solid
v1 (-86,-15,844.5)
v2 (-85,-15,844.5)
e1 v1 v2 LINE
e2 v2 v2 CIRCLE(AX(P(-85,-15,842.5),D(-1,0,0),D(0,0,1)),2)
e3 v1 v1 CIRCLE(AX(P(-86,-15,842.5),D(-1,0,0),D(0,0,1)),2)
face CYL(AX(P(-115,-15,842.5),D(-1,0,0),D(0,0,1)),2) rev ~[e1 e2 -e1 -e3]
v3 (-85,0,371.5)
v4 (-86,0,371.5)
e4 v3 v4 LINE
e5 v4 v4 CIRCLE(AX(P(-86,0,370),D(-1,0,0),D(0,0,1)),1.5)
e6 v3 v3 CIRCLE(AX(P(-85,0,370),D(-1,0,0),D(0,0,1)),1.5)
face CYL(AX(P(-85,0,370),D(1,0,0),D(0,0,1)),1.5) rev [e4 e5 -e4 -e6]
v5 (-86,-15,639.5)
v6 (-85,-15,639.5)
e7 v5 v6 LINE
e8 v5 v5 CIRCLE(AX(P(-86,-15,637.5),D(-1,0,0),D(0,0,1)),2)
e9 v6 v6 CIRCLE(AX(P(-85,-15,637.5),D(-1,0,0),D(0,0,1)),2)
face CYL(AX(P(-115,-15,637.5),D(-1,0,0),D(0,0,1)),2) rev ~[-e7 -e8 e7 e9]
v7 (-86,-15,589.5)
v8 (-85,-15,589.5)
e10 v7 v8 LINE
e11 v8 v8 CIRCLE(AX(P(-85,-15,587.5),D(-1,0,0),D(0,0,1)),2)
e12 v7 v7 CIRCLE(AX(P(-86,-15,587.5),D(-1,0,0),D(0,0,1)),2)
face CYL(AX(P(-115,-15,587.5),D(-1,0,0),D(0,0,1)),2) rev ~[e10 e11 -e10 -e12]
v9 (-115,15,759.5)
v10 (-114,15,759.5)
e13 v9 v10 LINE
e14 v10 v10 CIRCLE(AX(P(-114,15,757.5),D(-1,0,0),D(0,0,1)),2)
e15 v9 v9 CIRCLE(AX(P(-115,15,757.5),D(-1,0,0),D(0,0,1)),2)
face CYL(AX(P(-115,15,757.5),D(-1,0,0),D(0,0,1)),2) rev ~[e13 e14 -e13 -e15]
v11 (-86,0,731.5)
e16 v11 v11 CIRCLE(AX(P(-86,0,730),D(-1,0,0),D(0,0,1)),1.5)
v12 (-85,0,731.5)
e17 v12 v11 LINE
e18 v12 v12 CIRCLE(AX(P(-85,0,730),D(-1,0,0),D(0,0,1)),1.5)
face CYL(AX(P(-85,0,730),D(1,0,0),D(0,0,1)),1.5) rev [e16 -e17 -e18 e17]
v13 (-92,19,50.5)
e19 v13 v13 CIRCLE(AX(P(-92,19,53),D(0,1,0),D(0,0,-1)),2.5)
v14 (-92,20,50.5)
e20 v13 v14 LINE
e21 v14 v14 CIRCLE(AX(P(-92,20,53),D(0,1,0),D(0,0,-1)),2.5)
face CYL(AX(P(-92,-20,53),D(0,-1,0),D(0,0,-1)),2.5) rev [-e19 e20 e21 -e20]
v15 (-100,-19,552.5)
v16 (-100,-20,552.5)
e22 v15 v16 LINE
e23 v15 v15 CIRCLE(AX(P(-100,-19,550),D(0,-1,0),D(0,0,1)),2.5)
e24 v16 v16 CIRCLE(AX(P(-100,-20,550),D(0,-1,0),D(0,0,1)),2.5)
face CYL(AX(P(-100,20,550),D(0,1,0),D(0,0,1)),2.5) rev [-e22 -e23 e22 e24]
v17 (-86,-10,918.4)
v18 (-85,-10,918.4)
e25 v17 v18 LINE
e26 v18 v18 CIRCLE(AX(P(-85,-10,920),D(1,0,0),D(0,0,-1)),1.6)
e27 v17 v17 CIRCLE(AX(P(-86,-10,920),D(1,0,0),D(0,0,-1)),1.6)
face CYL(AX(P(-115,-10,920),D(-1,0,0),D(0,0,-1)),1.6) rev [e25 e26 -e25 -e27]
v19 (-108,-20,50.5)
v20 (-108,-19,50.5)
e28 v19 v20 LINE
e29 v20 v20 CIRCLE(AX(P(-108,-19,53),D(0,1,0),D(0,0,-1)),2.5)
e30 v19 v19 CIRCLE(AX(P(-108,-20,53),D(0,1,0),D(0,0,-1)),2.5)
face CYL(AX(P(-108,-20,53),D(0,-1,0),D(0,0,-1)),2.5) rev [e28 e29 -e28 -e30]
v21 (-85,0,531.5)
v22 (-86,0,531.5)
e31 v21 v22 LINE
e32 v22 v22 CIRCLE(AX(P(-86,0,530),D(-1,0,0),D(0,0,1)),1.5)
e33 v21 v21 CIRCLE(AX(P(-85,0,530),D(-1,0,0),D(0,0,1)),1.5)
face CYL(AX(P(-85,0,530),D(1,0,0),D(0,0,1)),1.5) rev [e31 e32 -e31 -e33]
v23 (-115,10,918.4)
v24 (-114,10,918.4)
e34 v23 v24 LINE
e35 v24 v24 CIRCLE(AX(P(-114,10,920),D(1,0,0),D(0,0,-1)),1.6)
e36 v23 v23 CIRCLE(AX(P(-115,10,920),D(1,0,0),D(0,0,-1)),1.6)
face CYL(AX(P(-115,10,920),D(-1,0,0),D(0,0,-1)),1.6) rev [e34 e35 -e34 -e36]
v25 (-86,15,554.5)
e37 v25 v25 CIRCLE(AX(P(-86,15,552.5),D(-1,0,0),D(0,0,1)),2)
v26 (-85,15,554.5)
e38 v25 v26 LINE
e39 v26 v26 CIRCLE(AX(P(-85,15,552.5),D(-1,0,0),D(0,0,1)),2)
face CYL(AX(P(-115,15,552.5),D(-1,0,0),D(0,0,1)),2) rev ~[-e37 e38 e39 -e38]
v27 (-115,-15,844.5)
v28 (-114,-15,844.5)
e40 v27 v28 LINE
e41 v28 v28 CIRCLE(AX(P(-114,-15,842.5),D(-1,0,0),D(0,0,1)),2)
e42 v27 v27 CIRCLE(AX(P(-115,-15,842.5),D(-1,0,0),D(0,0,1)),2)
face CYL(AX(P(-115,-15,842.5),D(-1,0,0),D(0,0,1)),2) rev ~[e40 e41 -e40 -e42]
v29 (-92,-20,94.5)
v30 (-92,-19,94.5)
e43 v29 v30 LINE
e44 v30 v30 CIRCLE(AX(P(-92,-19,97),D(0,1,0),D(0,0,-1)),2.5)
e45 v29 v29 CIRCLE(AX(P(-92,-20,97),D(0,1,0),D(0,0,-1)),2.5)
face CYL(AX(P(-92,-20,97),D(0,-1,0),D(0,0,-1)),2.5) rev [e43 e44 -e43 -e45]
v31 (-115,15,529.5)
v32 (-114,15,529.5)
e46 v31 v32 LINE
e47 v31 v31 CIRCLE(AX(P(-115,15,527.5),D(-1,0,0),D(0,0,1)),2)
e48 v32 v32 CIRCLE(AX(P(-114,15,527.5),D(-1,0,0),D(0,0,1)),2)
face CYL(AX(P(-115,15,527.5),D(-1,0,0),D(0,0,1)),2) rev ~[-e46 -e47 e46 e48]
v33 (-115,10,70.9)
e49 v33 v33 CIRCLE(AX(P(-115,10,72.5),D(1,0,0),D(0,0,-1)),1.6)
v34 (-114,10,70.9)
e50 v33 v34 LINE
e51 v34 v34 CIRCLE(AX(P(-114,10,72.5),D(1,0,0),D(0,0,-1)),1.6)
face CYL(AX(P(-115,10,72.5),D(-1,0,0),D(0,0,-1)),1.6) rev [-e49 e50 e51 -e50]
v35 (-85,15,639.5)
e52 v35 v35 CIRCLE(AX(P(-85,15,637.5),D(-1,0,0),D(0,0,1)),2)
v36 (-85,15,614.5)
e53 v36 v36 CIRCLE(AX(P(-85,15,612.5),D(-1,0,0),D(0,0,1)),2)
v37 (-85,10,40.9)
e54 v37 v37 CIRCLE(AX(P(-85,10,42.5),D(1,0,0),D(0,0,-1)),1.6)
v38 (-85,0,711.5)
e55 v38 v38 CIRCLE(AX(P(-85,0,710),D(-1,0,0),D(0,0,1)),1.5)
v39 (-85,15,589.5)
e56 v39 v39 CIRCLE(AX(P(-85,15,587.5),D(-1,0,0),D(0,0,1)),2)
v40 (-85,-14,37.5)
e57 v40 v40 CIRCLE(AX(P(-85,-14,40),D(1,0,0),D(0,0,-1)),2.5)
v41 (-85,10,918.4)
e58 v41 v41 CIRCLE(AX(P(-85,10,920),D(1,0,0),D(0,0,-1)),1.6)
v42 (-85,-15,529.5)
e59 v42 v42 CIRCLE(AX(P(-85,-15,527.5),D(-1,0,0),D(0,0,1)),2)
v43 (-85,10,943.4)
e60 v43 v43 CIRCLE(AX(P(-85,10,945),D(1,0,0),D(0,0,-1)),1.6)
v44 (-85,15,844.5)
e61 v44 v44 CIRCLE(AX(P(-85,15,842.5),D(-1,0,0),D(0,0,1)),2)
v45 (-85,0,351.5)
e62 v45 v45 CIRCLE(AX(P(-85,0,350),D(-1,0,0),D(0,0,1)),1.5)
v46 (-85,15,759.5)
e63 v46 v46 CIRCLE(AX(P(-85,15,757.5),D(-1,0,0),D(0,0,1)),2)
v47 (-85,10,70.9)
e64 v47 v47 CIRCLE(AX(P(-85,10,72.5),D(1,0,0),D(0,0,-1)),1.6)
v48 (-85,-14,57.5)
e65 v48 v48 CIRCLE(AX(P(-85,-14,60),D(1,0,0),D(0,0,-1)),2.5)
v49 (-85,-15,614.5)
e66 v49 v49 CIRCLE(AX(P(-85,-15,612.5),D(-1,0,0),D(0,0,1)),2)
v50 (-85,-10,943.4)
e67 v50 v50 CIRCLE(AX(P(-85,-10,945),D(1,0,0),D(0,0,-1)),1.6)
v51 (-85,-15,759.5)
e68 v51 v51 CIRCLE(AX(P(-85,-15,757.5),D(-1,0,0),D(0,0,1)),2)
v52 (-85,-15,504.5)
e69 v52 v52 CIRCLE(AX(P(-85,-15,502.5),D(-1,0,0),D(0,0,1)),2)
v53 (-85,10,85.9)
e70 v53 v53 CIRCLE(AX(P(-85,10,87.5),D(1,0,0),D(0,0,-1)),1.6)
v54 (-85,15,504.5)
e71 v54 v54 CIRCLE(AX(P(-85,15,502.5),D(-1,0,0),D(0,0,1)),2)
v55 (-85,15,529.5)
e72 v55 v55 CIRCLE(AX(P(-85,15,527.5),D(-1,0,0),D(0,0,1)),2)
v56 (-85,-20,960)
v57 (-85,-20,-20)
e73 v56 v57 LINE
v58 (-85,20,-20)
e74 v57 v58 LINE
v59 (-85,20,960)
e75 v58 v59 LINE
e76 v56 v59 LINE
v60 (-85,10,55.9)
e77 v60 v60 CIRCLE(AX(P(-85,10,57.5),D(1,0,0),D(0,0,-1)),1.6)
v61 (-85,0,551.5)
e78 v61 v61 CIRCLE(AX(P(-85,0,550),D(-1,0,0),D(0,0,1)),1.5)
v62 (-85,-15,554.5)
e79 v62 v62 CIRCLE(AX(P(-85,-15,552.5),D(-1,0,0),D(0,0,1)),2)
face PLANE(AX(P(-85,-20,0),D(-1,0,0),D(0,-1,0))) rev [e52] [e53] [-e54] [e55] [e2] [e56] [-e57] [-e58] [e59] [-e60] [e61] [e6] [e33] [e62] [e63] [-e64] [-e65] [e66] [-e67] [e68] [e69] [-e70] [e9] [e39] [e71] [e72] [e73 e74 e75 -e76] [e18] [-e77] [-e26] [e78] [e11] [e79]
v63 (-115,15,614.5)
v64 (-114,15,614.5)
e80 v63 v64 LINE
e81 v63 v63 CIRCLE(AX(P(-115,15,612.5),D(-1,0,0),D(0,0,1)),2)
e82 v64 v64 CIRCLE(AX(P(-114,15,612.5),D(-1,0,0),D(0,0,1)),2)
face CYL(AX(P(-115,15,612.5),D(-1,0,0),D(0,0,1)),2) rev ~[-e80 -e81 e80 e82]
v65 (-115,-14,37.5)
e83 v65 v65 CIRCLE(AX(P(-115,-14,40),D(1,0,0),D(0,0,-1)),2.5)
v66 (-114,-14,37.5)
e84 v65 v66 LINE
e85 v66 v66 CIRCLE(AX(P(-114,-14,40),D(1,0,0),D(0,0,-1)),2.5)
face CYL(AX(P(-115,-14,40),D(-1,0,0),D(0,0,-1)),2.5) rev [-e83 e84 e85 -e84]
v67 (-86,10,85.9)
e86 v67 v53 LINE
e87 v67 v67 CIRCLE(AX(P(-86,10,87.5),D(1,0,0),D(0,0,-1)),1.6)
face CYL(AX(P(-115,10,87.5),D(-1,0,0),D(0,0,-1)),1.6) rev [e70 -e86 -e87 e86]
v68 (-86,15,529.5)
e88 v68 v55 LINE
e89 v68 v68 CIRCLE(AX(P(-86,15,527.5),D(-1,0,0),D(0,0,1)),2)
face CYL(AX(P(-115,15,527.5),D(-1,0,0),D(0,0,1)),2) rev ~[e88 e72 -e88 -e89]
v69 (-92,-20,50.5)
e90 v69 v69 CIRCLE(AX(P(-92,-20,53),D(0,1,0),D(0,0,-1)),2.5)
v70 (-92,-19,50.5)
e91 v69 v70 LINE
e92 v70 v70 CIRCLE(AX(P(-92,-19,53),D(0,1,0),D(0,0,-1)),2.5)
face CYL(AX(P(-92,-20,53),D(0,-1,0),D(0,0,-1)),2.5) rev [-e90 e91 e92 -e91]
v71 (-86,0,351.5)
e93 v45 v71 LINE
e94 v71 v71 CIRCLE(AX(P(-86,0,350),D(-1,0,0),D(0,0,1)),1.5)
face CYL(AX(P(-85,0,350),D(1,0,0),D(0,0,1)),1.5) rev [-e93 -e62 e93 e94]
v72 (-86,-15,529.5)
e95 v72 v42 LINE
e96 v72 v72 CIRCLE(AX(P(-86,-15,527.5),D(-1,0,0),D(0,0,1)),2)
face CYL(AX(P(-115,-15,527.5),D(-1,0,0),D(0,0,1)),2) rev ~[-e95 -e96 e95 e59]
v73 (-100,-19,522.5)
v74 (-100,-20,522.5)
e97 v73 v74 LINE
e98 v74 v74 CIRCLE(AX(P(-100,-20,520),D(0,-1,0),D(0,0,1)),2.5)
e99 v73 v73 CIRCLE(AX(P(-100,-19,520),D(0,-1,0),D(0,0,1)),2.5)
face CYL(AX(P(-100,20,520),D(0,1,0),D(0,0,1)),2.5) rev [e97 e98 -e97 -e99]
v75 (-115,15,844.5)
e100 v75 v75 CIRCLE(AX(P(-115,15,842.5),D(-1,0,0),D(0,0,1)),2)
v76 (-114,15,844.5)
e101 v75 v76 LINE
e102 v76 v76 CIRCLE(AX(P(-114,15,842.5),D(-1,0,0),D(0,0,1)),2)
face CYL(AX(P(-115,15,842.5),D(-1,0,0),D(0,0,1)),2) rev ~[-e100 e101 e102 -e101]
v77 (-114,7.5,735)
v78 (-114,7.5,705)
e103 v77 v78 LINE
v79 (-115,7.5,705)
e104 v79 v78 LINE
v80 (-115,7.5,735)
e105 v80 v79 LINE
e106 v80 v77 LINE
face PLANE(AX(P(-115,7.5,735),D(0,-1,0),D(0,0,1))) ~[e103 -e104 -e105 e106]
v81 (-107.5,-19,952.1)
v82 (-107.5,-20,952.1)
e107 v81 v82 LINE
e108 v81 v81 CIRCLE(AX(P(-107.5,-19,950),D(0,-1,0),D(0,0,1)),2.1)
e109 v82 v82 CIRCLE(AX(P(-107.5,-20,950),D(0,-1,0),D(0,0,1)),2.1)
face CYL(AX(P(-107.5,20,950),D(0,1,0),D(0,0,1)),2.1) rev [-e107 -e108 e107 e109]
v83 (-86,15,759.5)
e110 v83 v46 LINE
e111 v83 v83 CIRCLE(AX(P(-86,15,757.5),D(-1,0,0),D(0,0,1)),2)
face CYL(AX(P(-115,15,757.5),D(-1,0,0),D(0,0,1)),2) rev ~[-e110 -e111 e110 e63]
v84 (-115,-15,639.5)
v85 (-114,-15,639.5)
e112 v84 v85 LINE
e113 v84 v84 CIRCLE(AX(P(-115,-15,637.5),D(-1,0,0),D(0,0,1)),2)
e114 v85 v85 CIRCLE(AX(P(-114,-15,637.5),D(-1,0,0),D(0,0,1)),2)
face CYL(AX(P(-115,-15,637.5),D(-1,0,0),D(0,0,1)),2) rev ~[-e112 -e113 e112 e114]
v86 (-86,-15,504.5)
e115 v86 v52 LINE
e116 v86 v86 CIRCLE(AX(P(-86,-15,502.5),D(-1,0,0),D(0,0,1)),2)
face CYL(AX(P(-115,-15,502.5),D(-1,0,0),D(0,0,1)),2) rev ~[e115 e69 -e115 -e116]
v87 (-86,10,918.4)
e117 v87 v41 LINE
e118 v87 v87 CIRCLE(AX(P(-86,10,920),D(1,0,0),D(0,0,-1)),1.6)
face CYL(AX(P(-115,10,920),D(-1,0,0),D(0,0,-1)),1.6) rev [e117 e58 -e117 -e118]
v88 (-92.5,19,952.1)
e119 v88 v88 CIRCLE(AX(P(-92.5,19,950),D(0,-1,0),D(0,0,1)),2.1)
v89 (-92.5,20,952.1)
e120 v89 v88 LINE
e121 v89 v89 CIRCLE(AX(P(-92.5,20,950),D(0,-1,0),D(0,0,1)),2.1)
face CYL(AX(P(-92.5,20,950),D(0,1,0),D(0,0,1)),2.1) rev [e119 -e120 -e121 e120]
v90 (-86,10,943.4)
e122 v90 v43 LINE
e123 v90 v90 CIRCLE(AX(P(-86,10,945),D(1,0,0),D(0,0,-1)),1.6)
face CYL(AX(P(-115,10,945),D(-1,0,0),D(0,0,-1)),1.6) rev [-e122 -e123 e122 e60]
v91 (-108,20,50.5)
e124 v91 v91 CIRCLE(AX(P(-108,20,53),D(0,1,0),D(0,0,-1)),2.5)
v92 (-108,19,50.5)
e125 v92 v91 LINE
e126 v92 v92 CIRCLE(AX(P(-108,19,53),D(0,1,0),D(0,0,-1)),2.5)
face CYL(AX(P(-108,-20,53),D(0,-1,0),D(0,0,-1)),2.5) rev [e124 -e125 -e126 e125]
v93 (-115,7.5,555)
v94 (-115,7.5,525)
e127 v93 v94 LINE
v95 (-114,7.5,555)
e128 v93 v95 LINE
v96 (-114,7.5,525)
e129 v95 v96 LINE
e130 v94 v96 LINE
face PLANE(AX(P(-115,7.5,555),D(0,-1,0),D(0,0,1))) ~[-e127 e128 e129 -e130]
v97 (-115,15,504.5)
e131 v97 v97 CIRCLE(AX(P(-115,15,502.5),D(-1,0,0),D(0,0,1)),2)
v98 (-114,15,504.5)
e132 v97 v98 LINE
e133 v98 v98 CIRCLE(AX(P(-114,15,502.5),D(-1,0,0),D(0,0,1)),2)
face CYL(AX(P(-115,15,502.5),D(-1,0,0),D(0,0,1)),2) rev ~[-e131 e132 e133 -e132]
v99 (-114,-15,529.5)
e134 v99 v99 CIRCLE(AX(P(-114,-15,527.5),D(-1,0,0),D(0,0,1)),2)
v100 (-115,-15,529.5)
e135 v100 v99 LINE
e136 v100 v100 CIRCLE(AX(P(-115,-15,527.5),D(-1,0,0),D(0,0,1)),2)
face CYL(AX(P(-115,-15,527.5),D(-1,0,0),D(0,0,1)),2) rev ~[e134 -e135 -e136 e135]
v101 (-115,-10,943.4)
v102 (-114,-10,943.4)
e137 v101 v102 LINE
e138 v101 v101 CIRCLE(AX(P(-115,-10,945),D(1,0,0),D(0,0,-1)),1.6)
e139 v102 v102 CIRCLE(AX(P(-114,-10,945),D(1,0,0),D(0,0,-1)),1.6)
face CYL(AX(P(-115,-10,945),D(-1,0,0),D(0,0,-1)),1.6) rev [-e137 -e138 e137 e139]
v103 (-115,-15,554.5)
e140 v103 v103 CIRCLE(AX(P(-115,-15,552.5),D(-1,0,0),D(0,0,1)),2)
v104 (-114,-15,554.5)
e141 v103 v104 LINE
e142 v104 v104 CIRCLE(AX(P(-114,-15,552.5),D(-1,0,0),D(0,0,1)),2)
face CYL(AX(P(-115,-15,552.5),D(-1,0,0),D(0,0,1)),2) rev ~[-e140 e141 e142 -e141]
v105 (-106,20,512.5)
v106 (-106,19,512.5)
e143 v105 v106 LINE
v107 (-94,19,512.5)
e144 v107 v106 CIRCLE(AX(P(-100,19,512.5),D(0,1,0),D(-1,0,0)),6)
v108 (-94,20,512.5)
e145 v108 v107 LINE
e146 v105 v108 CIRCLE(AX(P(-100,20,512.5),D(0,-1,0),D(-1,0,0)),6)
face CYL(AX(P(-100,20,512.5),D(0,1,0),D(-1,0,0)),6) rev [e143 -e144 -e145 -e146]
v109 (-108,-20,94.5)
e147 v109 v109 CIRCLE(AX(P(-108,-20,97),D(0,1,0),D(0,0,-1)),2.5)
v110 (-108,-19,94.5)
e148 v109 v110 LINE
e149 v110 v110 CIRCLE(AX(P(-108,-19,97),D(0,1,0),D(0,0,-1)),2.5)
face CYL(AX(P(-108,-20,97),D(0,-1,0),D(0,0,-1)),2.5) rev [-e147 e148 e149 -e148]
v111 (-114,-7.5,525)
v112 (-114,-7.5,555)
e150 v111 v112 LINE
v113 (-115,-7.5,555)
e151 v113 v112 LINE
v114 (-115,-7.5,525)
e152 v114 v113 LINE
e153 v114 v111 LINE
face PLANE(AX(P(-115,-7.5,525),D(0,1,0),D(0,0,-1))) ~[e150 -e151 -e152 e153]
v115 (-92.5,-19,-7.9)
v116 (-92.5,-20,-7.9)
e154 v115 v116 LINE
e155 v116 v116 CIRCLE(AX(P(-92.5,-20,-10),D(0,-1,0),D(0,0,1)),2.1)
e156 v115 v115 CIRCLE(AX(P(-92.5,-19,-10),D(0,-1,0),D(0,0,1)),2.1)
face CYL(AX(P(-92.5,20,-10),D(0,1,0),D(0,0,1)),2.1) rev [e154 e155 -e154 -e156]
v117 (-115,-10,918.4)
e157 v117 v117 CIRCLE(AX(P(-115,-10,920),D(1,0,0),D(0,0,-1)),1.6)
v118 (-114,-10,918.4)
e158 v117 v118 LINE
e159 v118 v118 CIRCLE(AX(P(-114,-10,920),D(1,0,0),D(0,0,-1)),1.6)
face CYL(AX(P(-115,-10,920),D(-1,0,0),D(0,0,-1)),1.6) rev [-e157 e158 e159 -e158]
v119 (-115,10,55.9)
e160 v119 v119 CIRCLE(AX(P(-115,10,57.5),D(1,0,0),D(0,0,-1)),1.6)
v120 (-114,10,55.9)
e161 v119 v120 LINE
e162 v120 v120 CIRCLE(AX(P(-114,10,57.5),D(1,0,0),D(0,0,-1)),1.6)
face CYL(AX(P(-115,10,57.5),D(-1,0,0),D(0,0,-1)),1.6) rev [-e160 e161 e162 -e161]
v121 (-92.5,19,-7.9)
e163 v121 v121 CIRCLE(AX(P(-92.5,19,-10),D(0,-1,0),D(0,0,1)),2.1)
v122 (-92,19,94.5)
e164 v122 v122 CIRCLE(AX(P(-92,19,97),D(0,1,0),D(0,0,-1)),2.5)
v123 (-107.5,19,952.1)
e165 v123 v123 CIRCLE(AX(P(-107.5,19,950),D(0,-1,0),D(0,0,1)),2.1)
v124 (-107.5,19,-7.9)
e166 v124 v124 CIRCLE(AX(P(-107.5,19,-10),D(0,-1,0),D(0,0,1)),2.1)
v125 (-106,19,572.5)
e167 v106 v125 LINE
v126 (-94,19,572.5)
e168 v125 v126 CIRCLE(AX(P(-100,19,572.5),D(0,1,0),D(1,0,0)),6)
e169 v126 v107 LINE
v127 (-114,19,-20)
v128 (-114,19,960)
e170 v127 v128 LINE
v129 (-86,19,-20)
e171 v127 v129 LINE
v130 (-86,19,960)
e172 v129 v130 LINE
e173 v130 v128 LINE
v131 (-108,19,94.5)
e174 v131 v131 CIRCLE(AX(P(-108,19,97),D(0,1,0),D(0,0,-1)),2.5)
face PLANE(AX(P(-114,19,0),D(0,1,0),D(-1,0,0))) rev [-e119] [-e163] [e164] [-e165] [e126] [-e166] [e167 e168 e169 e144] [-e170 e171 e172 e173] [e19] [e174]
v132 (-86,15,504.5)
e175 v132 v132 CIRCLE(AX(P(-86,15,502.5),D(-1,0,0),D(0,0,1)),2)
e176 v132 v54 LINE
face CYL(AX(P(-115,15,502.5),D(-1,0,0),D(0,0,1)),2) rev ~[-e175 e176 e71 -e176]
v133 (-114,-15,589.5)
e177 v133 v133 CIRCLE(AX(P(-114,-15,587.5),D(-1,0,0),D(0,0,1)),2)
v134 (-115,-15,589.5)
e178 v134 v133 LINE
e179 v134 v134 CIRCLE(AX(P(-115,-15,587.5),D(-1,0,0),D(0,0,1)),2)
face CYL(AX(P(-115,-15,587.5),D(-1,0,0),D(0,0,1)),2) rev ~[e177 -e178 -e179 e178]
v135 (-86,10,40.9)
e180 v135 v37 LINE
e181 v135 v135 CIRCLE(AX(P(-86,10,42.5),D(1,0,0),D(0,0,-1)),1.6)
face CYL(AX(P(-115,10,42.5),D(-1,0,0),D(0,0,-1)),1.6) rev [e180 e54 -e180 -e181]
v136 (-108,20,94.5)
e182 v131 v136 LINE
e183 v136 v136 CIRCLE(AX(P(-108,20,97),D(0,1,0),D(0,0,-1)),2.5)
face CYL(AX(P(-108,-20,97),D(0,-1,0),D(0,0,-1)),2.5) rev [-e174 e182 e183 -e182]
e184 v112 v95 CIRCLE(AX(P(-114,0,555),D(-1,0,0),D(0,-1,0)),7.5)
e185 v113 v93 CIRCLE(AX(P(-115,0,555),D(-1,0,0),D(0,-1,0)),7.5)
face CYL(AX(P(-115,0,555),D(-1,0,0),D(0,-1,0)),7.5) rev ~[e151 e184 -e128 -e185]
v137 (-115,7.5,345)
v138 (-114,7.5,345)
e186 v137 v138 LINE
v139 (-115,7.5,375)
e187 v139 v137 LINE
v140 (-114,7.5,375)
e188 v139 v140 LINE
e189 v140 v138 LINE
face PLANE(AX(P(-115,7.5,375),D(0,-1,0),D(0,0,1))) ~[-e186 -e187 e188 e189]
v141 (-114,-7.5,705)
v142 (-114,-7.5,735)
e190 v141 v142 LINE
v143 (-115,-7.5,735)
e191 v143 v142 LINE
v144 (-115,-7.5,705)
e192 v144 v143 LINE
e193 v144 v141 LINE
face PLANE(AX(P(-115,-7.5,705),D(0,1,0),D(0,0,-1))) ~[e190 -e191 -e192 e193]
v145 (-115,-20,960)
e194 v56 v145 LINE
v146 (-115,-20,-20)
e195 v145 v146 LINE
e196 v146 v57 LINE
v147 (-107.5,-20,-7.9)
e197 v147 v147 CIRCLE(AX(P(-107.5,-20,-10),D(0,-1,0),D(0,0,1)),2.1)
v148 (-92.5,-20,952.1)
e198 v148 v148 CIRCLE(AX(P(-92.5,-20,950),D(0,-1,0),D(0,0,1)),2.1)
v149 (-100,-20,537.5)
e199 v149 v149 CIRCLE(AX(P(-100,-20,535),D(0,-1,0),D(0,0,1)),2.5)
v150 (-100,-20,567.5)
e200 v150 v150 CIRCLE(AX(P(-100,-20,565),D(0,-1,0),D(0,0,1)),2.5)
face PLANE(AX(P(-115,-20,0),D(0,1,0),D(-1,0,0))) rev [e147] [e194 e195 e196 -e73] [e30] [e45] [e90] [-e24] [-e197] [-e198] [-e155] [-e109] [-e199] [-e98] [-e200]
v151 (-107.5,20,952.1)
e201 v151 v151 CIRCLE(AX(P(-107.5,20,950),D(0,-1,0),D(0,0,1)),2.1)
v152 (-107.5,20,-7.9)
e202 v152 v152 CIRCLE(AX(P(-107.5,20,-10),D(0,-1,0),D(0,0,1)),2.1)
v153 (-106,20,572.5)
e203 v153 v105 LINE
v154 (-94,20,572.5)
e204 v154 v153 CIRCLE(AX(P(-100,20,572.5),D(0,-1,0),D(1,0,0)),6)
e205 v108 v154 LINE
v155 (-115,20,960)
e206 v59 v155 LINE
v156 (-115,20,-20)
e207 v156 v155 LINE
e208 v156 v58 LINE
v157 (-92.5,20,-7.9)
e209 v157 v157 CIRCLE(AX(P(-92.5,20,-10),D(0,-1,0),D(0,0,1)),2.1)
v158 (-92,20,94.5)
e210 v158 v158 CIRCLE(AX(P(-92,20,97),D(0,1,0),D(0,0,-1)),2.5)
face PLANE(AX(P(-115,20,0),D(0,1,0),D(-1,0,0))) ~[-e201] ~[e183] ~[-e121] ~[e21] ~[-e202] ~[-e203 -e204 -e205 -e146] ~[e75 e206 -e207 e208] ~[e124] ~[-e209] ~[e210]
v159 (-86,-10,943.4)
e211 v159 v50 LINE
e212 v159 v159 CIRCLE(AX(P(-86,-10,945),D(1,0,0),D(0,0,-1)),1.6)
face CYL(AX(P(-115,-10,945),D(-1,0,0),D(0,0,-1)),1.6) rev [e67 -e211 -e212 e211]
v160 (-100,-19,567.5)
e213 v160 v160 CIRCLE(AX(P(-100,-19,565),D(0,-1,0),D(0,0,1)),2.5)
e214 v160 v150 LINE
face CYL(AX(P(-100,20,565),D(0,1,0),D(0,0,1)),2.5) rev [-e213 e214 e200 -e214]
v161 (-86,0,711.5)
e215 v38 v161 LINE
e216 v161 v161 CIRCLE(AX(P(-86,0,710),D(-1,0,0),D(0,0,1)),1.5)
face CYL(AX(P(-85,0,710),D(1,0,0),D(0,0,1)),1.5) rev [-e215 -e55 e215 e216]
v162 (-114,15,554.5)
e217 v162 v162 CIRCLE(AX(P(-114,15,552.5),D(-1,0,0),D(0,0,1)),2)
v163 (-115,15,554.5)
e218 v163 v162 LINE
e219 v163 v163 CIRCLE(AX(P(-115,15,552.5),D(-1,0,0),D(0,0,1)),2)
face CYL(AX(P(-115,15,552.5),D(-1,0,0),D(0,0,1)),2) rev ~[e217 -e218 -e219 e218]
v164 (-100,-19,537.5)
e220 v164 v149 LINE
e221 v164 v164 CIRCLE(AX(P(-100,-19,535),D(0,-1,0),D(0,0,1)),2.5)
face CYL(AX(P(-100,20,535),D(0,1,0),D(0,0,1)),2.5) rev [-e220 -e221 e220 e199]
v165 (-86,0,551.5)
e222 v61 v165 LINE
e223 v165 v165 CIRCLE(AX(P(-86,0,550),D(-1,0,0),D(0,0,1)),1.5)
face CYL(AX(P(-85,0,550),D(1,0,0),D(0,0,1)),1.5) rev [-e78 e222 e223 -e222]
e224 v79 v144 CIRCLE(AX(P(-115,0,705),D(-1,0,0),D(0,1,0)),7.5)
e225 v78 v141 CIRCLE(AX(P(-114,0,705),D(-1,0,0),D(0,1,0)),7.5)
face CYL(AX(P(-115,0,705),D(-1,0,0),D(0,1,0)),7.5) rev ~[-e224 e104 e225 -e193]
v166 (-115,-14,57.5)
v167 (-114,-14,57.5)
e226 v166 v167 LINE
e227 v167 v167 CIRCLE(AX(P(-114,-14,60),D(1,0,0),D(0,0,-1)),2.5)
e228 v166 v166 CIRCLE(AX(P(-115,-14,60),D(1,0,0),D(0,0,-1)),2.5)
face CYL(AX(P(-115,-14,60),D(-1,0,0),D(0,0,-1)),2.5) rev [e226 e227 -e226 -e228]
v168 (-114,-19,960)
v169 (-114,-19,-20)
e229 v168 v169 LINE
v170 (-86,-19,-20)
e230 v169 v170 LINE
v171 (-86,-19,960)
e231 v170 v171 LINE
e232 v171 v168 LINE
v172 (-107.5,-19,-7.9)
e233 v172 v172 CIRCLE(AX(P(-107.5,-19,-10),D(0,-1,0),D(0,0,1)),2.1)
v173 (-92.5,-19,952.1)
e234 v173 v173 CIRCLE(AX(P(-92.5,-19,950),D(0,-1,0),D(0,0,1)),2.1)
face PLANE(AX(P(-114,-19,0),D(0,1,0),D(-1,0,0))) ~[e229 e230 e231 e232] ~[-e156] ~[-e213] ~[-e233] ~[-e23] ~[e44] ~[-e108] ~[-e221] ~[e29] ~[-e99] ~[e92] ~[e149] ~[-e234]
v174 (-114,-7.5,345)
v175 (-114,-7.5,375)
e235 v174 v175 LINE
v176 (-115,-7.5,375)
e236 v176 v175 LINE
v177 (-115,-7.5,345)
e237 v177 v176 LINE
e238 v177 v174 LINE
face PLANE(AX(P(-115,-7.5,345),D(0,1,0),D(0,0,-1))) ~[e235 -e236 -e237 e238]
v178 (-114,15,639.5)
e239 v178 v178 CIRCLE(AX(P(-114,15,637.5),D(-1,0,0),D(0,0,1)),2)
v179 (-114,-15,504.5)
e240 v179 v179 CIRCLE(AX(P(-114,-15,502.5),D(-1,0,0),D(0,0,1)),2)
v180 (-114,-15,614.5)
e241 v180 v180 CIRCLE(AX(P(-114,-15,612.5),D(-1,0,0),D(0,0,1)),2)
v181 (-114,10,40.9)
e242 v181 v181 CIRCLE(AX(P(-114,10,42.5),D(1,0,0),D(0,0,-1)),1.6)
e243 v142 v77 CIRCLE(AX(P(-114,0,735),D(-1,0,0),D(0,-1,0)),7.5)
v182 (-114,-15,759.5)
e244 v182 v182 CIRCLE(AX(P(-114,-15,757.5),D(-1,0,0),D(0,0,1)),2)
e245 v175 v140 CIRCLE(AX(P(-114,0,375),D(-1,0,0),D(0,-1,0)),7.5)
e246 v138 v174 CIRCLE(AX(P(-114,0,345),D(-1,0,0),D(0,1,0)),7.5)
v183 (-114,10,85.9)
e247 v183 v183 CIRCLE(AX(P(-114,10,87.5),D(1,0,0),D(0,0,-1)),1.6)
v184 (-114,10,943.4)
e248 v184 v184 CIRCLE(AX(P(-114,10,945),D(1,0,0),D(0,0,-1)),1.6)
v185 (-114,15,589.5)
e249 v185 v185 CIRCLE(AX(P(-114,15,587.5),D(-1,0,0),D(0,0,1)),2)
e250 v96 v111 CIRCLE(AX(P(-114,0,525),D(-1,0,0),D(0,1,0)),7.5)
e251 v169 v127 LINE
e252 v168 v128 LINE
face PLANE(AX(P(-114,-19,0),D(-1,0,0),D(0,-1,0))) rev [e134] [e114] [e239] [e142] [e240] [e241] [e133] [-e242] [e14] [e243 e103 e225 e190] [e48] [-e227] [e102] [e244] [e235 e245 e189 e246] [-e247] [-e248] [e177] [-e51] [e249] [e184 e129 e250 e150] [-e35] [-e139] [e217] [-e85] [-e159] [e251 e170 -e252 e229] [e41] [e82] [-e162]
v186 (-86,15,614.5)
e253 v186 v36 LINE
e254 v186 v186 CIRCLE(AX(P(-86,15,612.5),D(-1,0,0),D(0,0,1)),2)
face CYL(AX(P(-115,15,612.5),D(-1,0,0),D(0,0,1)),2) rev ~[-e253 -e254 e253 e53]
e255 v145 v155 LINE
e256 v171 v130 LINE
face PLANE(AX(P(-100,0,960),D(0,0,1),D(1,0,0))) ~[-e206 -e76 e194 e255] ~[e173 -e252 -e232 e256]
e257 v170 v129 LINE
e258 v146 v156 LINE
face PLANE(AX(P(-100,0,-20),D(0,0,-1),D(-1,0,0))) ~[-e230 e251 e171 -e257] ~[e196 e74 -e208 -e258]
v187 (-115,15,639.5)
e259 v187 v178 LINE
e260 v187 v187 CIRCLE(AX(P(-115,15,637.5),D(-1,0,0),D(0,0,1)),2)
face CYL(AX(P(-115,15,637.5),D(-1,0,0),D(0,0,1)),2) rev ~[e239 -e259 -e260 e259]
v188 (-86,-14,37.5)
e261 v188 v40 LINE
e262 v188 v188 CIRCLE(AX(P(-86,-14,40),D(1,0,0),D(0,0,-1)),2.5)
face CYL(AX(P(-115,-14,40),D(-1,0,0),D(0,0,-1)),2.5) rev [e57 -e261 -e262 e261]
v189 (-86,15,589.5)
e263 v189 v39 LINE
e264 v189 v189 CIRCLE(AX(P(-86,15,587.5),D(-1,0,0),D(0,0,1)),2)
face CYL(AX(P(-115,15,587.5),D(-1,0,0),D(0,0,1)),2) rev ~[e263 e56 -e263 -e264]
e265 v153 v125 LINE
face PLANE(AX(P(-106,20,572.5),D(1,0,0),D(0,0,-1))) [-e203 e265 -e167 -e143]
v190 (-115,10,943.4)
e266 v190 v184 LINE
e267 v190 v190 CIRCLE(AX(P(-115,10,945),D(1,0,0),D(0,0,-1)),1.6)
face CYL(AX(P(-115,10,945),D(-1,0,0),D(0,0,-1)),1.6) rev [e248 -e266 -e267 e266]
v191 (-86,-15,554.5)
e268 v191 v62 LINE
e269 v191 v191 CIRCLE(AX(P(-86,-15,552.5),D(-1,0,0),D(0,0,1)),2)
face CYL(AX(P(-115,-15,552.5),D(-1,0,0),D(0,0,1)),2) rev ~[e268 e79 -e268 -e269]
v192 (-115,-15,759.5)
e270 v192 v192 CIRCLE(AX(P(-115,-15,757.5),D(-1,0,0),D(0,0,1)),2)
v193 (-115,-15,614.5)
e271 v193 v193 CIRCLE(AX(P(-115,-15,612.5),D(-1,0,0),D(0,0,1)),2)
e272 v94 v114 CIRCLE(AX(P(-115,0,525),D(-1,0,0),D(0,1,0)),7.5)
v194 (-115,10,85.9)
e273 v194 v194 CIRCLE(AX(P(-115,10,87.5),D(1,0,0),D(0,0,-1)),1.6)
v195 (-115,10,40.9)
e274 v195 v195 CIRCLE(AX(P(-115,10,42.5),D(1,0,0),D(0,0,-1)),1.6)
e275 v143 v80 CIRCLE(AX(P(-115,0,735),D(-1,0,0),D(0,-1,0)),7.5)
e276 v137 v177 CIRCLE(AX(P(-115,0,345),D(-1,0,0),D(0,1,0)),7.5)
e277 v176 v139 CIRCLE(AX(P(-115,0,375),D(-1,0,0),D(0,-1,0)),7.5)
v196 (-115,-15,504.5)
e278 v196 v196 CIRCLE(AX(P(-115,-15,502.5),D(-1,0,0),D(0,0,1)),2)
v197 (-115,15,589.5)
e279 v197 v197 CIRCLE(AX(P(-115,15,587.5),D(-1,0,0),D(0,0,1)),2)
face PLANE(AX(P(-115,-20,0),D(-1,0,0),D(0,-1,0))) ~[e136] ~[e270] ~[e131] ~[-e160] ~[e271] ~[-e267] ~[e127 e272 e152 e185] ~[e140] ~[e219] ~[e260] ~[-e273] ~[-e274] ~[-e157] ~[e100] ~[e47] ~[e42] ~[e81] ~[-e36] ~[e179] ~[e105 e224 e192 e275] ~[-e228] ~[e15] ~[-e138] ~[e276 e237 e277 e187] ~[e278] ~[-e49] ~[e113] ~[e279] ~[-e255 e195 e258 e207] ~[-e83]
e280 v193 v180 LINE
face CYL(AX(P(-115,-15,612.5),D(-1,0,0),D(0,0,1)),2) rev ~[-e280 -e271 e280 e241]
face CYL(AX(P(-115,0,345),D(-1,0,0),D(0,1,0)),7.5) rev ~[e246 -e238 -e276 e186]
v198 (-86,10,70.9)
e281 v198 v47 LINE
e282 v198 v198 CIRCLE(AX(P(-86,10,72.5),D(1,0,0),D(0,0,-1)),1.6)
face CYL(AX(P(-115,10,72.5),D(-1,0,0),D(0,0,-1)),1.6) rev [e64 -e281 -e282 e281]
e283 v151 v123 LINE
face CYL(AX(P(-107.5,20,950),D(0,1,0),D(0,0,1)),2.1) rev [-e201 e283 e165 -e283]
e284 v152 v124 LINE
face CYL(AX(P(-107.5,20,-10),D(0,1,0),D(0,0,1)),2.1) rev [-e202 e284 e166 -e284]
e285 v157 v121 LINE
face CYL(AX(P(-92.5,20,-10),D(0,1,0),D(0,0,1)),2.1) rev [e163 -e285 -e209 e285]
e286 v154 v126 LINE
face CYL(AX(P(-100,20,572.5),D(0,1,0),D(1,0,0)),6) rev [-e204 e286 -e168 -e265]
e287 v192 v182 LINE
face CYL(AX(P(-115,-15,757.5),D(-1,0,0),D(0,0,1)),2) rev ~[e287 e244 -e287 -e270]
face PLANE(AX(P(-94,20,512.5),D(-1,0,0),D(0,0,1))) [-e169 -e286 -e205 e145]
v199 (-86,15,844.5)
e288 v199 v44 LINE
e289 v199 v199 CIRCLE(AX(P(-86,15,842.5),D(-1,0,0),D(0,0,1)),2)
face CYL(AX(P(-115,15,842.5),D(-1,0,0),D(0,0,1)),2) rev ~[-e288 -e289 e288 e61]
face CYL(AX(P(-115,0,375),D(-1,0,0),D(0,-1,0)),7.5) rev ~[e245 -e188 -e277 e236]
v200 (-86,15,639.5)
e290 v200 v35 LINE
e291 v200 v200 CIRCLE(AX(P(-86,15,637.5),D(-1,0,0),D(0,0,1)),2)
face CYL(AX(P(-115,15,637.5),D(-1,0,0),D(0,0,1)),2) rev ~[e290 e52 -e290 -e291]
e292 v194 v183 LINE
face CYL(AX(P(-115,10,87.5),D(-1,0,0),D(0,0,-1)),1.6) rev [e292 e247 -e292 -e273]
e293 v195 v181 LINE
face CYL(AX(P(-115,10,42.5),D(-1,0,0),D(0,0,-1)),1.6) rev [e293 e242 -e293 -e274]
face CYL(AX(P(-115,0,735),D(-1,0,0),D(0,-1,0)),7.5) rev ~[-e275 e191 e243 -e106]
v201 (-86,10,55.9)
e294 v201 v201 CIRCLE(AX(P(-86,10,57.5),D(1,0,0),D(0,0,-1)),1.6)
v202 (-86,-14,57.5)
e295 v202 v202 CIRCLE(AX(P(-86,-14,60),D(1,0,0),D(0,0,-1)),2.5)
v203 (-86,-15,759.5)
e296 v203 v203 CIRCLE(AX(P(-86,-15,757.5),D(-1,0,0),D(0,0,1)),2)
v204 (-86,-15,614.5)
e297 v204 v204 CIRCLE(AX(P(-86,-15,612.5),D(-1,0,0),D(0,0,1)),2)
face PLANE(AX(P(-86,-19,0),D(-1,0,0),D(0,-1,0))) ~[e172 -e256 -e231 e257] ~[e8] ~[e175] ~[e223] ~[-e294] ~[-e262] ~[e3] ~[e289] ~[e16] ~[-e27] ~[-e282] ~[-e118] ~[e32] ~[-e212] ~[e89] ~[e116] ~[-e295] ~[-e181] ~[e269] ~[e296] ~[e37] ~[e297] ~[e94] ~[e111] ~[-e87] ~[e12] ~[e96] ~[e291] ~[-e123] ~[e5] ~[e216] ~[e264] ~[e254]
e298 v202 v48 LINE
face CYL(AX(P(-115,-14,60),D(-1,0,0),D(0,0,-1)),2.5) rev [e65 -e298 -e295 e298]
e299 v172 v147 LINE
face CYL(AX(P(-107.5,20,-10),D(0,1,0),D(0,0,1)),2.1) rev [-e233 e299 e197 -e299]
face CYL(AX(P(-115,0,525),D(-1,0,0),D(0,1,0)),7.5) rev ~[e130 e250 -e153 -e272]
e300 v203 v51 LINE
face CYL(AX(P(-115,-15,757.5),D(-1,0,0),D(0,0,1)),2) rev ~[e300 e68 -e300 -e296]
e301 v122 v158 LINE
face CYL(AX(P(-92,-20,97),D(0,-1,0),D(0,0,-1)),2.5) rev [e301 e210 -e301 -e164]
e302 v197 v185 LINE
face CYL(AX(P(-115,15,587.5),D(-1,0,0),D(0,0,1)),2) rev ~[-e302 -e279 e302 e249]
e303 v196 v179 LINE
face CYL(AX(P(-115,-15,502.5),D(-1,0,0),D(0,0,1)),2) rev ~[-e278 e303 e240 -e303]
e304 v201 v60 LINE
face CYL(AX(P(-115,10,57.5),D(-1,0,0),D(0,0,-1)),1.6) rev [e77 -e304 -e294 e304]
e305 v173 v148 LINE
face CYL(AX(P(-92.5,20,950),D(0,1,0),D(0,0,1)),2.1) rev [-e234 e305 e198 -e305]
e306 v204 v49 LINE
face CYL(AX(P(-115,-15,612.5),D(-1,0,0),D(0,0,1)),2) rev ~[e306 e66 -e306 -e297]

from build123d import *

# Parameters (mm, degrees)
SKETCH_1_W           = 30
SKETCH_1_H           = 40
SKETCH_1_W_2         = 28
SKETCH_1_H_2         = 38
EXTRUDE_1_DEPTH      = 940
SKETCH_5_R           = 2.5
CUT_EXTRUDE_3_DEPTH  = 941.97024395
CUT_EXTRUDE_4_DEPTH  = 1
SKETCH_7_R           = 1.5
CUT_EXTRUDE_5_DEPTH  = 1
SKETCH_17_W          = 30
SKETCH_17_H          = 40
SKETCH_17_W_2        = 28
SKETCH_17_H_2        = 38
EXTRUDE_2_DEPTH      = 20
SKETCH_18_W          = 30
SKETCH_18_H          = 40
SKETCH_18_W_2        = 28
SKETCH_18_H_2        = 38
EXTRUDE_3_DEPTH      = 20
SKETCH_19_R          = 2.1
CUT_EXTRUDE_16_DEPTH = 961.950050731
SKETCH_20_R          = 1.6
CUT_EXTRUDE_17_DEPTH = 961.67684473
SKETCH_21_R          = 2.5
SKETCH_21_R_2        = 1.6
CUT_EXTRUDE_18_DEPTH = 961.67684473
SKETCH_23_R          = 2.5
CUT_EXTRUDE_19_DEPTH = 961.950050731
SKETCH_24_R          = 4.5
CUT_EXTRUDE_20_DEPTH = 10
SKETCH_25_W          = 114.67616049
SKETCH_25_H          = 1154.562704257
CUT_EXTRUDE_21_DEPTH = 968.690549711
SKETCH_26_R          = 2
CUT_EXTRUDE_22_DEPTH = 961.67684473
CUT_EXTRUDE_23_DEPTH = 10


with BuildPart() as part:
    # 草图1 → 凸台-拉伸1 (new body)
    with BuildSketch(Plane.XY):
        Rectangle(SKETCH_1_W, SKETCH_1_H)
        Rectangle(SKETCH_1_W_2, SKETCH_1_H_2, mode=Mode.SUBTRACT)
    extrude(amount=EXTRUDE_1_DEPTH)

    # 草图5 → 切除-拉伸3 (cut, through all)
    with BuildSketch(Plane.XZ.offset(20)):
        with Locations((-8, 53)):
            Circle(SKETCH_5_R)
        with Locations((8, 53)):
            Circle(SKETCH_5_R)
        with Locations((-8, 97)):
            Circle(SKETCH_5_R)
        with Locations((8, 97)):
            Circle(SKETCH_5_R)
    extrude(amount=-CUT_EXTRUDE_3_DEPTH, mode=Mode.SUBTRACT)

    # 草图6 → 切除-拉伸4 (cut)
    with BuildSketch(Plane(origin=(15, 0, 0), x_dir=(0, 0, -1), z_dir=(1, 0, 0))):
        with BuildLine():
            Line((-345, -7.5), (-375, -7.5))
            ThreePointArc((-375, -7.5), (-382.5, 0), (-375, 7.5))
            Line((-375, 7.5), (-345, 7.5))
            ThreePointArc((-345, 7.5), (-337.5, 0), (-345, -7.5))
        make_face()
        with BuildLine():
            Line((-525, -7.5), (-555, -7.5))
            ThreePointArc((-555, -7.5), (-562.5, 0), (-555, 7.5))
            Line((-555, 7.5), (-525, 7.5))
            ThreePointArc((-525, 7.5), (-517.5, 0), (-525, -7.5))
        make_face()
        with BuildLine():
            Line((-705, -7.5), (-735, -7.5))
            ThreePointArc((-735, -7.5), (-742.5, 0), (-735, 7.5))
            Line((-735, 7.5), (-705, 7.5))
            ThreePointArc((-705, 7.5), (-697.5, 0), (-705, -7.5))
        make_face()
    extrude(amount=-CUT_EXTRUDE_4_DEPTH, mode=Mode.SUBTRACT)

    # 草图7 → 切除-拉伸5 (cut)
    with BuildSketch(Plane.ZY.offset(15)):
        with Locations((350, 0)):
            Circle(SKETCH_7_R)
        with Locations((370, 0)):
            Circle(SKETCH_7_R)
        with Locations((530, 0)):
            Circle(SKETCH_7_R)
        with Locations((550, 0)):
            Circle(SKETCH_7_R)
        with Locations((710, 0)):
            Circle(SKETCH_7_R)
        with Locations((730, 0)):
            Circle(SKETCH_7_R)
    extrude(amount=-CUT_EXTRUDE_5_DEPTH, mode=Mode.SUBTRACT)

    # 草图17 → 凸台-拉伸2 (add)
    with BuildSketch(Plane.XY.offset(940)):
        Rectangle(SKETCH_17_W, SKETCH_17_H)
        Rectangle(SKETCH_17_W_2, SKETCH_17_H_2, mode=Mode.SUBTRACT)
    extrude(amount=EXTRUDE_2_DEPTH)

    # 草图18 → 凸台-拉伸3 (add)
    with BuildSketch(Plane(origin=(0, 0, 0), x_dir=(-1, 0, 0), z_dir=(0, 0, -1))):
        Rectangle(SKETCH_18_W, SKETCH_18_H)
        Rectangle(SKETCH_18_W_2, SKETCH_18_H_2, mode=Mode.SUBTRACT)
    extrude(amount=EXTRUDE_3_DEPTH)

    # 草图19 → 切除-拉伸16 (cut, through all)
    with BuildSketch(Plane(origin=(0, 20, 0), x_dir=(1, 0, 0), z_dir=(0, 1, 0))):
        with Locations((-7.5, -950)):
            Circle(SKETCH_19_R)
        with Locations((7.5, -950)):
            Circle(SKETCH_19_R)
        with Locations((-7.5, 10)):
            Circle(SKETCH_19_R)
        with Locations((7.5, 10)):
            Circle(SKETCH_19_R)
    extrude(amount=-CUT_EXTRUDE_16_DEPTH, mode=Mode.SUBTRACT)

    # 草图20 → 切除-拉伸17 (cut, through all)
    with BuildSketch(Plane(origin=(15, 0, 0), x_dir=(0, 0, -1), z_dir=(1, 0, 0))):
        with Locations((-945, 10)):
            Circle(SKETCH_20_R)
        with Locations((-920, 10)):
            Circle(SKETCH_20_R)
        with Locations((-920, -10)):
            Circle(SKETCH_20_R)
        with Locations((-945, -10)):
            Circle(SKETCH_20_R)
    extrude(amount=-CUT_EXTRUDE_17_DEPTH, mode=Mode.SUBTRACT)

    # 草图21 → 切除-拉伸18 (cut, through all)
    with BuildSketch(Plane(origin=(15, 0, 0), x_dir=(0, 0, -1), z_dir=(1, 0, 0))):
        with Locations((-40, -14)):
            Circle(SKETCH_21_R)
        with Locations((-60, -14)):
            Circle(SKETCH_21_R)
        with Locations((-42.5, 10)):
            Circle(SKETCH_21_R_2)
        with Locations((-57.5, 10)):
            Circle(SKETCH_21_R_2)
        with Locations((-72.5, 10)):
            Circle(SKETCH_21_R_2)
        with Locations((-87.5, 10)):
            Circle(SKETCH_21_R_2)
    extrude(amount=-CUT_EXTRUDE_18_DEPTH, mode=Mode.SUBTRACT)

    # 草图23 → 切除-拉伸19 (cut, through all)
    with BuildSketch(Plane(origin=(0, 20, 0), x_dir=(1, 0, 0), z_dir=(0, 1, 0))):
        with Locations((0, -520)):
            Circle(SKETCH_23_R)
        with Locations((0, -535)):
            Circle(SKETCH_23_R)
        with Locations((0, -550)):
            Circle(SKETCH_23_R)
        with Locations((0, -565)):
            Circle(SKETCH_23_R)
    extrude(amount=-CUT_EXTRUDE_19_DEPTH, mode=Mode.SUBTRACT)

    # 草图24 → 切除-拉伸20 (cut)
    with BuildSketch(Plane(origin=(0, 20, 0), x_dir=(1, 0, 0), z_dir=(0, 1, 0))):
        with Locations((0, -520)):
            Circle(SKETCH_24_R)
        with Locations((0, -535)):
            Circle(SKETCH_24_R)
        with Locations((0, -550)):
            Circle(SKETCH_24_R)
        with Locations((0, -565)):
            Circle(SKETCH_24_R)
    extrude(amount=-CUT_EXTRUDE_20_DEPTH, mode=Mode.SUBTRACT)


with BuildPart() as body_2:
    # 镜向2: mirrored copy
    add(part.part.mirror(Plane(origin=(-50, 0, 0), x_dir=(0, 0, 1), z_dir=(1, 0, 0))))

    # 草图26 → 切除-拉伸22 (cut, through all)
    with BuildSketch(Plane.ZY.offset(115)):
        with Locations((612.5, 15)):
            Circle(SKETCH_26_R)
        with Locations((612.5, -15)):
            Circle(SKETCH_26_R)
        with Locations((527.5, 15)):
            Circle(SKETCH_26_R)
        with Locations((527.5, -15)):
            Circle(SKETCH_26_R)
        with Locations((842.5, 15)):
            Circle(SKETCH_26_R)
        with Locations((842.5, -15)):
            Circle(SKETCH_26_R)
        with Locations((757.5, 15)):
            Circle(SKETCH_26_R)
        with Locations((757.5, -15)):
            Circle(SKETCH_26_R)
        with Locations((637.5, 15)):
            Circle(SKETCH_26_R)
        with Locations((637.5, -15)):
            Circle(SKETCH_26_R)
        with Locations((552.5, -15)):
            Circle(SKETCH_26_R)
        with Locations((552.5, 15)):
            Circle(SKETCH_26_R)
        with Locations((502.5, 15)):
            Circle(SKETCH_26_R)
        with Locations((502.5, -15)):
            Circle(SKETCH_26_R)
        with Locations((587.5, -15)):
            Circle(SKETCH_26_R)
        with Locations((587.5, 15)):
            Circle(SKETCH_26_R)
    extrude(amount=-CUT_EXTRUDE_22_DEPTH, mode=Mode.SUBTRACT)

    # 草图27 → 切除-拉伸23 (cut)
    with BuildSketch(Plane(origin=(0, 20, 0), x_dir=(1, 0, 0), z_dir=(0, 1, 0))):
        with BuildLine():
            Line((-94, -512.5), (-94, -572.5))
            ThreePointArc((-94, -572.5), (-100, -578.5), (-106, -572.5))
            Line((-106, -572.5), (-106, -512.5))
            ThreePointArc((-106, -512.5), (-100, -506.5), (-94, -512.5))
        make_face()
    extrude(amount=-CUT_EXTRUDE_23_DEPTH, mode=Mode.SUBTRACT)


with BuildPart() as part_1:
    add(part.part)

    # 草图25 → 切除-拉伸21 (cut, through all)
    with BuildSketch(Plane(origin=(0, 20, 0), x_dir=(1, 0, 0), z_dir=(0, 1, 0))):
        with Locations((7.338080245, -506.215166959)):
            Rectangle(SKETCH_25_W, SKETCH_25_H)
    extrude(amount=-CUT_EXTRUDE_21_DEPTH, mode=Mode.SUBTRACT)


solid = body_2.part
